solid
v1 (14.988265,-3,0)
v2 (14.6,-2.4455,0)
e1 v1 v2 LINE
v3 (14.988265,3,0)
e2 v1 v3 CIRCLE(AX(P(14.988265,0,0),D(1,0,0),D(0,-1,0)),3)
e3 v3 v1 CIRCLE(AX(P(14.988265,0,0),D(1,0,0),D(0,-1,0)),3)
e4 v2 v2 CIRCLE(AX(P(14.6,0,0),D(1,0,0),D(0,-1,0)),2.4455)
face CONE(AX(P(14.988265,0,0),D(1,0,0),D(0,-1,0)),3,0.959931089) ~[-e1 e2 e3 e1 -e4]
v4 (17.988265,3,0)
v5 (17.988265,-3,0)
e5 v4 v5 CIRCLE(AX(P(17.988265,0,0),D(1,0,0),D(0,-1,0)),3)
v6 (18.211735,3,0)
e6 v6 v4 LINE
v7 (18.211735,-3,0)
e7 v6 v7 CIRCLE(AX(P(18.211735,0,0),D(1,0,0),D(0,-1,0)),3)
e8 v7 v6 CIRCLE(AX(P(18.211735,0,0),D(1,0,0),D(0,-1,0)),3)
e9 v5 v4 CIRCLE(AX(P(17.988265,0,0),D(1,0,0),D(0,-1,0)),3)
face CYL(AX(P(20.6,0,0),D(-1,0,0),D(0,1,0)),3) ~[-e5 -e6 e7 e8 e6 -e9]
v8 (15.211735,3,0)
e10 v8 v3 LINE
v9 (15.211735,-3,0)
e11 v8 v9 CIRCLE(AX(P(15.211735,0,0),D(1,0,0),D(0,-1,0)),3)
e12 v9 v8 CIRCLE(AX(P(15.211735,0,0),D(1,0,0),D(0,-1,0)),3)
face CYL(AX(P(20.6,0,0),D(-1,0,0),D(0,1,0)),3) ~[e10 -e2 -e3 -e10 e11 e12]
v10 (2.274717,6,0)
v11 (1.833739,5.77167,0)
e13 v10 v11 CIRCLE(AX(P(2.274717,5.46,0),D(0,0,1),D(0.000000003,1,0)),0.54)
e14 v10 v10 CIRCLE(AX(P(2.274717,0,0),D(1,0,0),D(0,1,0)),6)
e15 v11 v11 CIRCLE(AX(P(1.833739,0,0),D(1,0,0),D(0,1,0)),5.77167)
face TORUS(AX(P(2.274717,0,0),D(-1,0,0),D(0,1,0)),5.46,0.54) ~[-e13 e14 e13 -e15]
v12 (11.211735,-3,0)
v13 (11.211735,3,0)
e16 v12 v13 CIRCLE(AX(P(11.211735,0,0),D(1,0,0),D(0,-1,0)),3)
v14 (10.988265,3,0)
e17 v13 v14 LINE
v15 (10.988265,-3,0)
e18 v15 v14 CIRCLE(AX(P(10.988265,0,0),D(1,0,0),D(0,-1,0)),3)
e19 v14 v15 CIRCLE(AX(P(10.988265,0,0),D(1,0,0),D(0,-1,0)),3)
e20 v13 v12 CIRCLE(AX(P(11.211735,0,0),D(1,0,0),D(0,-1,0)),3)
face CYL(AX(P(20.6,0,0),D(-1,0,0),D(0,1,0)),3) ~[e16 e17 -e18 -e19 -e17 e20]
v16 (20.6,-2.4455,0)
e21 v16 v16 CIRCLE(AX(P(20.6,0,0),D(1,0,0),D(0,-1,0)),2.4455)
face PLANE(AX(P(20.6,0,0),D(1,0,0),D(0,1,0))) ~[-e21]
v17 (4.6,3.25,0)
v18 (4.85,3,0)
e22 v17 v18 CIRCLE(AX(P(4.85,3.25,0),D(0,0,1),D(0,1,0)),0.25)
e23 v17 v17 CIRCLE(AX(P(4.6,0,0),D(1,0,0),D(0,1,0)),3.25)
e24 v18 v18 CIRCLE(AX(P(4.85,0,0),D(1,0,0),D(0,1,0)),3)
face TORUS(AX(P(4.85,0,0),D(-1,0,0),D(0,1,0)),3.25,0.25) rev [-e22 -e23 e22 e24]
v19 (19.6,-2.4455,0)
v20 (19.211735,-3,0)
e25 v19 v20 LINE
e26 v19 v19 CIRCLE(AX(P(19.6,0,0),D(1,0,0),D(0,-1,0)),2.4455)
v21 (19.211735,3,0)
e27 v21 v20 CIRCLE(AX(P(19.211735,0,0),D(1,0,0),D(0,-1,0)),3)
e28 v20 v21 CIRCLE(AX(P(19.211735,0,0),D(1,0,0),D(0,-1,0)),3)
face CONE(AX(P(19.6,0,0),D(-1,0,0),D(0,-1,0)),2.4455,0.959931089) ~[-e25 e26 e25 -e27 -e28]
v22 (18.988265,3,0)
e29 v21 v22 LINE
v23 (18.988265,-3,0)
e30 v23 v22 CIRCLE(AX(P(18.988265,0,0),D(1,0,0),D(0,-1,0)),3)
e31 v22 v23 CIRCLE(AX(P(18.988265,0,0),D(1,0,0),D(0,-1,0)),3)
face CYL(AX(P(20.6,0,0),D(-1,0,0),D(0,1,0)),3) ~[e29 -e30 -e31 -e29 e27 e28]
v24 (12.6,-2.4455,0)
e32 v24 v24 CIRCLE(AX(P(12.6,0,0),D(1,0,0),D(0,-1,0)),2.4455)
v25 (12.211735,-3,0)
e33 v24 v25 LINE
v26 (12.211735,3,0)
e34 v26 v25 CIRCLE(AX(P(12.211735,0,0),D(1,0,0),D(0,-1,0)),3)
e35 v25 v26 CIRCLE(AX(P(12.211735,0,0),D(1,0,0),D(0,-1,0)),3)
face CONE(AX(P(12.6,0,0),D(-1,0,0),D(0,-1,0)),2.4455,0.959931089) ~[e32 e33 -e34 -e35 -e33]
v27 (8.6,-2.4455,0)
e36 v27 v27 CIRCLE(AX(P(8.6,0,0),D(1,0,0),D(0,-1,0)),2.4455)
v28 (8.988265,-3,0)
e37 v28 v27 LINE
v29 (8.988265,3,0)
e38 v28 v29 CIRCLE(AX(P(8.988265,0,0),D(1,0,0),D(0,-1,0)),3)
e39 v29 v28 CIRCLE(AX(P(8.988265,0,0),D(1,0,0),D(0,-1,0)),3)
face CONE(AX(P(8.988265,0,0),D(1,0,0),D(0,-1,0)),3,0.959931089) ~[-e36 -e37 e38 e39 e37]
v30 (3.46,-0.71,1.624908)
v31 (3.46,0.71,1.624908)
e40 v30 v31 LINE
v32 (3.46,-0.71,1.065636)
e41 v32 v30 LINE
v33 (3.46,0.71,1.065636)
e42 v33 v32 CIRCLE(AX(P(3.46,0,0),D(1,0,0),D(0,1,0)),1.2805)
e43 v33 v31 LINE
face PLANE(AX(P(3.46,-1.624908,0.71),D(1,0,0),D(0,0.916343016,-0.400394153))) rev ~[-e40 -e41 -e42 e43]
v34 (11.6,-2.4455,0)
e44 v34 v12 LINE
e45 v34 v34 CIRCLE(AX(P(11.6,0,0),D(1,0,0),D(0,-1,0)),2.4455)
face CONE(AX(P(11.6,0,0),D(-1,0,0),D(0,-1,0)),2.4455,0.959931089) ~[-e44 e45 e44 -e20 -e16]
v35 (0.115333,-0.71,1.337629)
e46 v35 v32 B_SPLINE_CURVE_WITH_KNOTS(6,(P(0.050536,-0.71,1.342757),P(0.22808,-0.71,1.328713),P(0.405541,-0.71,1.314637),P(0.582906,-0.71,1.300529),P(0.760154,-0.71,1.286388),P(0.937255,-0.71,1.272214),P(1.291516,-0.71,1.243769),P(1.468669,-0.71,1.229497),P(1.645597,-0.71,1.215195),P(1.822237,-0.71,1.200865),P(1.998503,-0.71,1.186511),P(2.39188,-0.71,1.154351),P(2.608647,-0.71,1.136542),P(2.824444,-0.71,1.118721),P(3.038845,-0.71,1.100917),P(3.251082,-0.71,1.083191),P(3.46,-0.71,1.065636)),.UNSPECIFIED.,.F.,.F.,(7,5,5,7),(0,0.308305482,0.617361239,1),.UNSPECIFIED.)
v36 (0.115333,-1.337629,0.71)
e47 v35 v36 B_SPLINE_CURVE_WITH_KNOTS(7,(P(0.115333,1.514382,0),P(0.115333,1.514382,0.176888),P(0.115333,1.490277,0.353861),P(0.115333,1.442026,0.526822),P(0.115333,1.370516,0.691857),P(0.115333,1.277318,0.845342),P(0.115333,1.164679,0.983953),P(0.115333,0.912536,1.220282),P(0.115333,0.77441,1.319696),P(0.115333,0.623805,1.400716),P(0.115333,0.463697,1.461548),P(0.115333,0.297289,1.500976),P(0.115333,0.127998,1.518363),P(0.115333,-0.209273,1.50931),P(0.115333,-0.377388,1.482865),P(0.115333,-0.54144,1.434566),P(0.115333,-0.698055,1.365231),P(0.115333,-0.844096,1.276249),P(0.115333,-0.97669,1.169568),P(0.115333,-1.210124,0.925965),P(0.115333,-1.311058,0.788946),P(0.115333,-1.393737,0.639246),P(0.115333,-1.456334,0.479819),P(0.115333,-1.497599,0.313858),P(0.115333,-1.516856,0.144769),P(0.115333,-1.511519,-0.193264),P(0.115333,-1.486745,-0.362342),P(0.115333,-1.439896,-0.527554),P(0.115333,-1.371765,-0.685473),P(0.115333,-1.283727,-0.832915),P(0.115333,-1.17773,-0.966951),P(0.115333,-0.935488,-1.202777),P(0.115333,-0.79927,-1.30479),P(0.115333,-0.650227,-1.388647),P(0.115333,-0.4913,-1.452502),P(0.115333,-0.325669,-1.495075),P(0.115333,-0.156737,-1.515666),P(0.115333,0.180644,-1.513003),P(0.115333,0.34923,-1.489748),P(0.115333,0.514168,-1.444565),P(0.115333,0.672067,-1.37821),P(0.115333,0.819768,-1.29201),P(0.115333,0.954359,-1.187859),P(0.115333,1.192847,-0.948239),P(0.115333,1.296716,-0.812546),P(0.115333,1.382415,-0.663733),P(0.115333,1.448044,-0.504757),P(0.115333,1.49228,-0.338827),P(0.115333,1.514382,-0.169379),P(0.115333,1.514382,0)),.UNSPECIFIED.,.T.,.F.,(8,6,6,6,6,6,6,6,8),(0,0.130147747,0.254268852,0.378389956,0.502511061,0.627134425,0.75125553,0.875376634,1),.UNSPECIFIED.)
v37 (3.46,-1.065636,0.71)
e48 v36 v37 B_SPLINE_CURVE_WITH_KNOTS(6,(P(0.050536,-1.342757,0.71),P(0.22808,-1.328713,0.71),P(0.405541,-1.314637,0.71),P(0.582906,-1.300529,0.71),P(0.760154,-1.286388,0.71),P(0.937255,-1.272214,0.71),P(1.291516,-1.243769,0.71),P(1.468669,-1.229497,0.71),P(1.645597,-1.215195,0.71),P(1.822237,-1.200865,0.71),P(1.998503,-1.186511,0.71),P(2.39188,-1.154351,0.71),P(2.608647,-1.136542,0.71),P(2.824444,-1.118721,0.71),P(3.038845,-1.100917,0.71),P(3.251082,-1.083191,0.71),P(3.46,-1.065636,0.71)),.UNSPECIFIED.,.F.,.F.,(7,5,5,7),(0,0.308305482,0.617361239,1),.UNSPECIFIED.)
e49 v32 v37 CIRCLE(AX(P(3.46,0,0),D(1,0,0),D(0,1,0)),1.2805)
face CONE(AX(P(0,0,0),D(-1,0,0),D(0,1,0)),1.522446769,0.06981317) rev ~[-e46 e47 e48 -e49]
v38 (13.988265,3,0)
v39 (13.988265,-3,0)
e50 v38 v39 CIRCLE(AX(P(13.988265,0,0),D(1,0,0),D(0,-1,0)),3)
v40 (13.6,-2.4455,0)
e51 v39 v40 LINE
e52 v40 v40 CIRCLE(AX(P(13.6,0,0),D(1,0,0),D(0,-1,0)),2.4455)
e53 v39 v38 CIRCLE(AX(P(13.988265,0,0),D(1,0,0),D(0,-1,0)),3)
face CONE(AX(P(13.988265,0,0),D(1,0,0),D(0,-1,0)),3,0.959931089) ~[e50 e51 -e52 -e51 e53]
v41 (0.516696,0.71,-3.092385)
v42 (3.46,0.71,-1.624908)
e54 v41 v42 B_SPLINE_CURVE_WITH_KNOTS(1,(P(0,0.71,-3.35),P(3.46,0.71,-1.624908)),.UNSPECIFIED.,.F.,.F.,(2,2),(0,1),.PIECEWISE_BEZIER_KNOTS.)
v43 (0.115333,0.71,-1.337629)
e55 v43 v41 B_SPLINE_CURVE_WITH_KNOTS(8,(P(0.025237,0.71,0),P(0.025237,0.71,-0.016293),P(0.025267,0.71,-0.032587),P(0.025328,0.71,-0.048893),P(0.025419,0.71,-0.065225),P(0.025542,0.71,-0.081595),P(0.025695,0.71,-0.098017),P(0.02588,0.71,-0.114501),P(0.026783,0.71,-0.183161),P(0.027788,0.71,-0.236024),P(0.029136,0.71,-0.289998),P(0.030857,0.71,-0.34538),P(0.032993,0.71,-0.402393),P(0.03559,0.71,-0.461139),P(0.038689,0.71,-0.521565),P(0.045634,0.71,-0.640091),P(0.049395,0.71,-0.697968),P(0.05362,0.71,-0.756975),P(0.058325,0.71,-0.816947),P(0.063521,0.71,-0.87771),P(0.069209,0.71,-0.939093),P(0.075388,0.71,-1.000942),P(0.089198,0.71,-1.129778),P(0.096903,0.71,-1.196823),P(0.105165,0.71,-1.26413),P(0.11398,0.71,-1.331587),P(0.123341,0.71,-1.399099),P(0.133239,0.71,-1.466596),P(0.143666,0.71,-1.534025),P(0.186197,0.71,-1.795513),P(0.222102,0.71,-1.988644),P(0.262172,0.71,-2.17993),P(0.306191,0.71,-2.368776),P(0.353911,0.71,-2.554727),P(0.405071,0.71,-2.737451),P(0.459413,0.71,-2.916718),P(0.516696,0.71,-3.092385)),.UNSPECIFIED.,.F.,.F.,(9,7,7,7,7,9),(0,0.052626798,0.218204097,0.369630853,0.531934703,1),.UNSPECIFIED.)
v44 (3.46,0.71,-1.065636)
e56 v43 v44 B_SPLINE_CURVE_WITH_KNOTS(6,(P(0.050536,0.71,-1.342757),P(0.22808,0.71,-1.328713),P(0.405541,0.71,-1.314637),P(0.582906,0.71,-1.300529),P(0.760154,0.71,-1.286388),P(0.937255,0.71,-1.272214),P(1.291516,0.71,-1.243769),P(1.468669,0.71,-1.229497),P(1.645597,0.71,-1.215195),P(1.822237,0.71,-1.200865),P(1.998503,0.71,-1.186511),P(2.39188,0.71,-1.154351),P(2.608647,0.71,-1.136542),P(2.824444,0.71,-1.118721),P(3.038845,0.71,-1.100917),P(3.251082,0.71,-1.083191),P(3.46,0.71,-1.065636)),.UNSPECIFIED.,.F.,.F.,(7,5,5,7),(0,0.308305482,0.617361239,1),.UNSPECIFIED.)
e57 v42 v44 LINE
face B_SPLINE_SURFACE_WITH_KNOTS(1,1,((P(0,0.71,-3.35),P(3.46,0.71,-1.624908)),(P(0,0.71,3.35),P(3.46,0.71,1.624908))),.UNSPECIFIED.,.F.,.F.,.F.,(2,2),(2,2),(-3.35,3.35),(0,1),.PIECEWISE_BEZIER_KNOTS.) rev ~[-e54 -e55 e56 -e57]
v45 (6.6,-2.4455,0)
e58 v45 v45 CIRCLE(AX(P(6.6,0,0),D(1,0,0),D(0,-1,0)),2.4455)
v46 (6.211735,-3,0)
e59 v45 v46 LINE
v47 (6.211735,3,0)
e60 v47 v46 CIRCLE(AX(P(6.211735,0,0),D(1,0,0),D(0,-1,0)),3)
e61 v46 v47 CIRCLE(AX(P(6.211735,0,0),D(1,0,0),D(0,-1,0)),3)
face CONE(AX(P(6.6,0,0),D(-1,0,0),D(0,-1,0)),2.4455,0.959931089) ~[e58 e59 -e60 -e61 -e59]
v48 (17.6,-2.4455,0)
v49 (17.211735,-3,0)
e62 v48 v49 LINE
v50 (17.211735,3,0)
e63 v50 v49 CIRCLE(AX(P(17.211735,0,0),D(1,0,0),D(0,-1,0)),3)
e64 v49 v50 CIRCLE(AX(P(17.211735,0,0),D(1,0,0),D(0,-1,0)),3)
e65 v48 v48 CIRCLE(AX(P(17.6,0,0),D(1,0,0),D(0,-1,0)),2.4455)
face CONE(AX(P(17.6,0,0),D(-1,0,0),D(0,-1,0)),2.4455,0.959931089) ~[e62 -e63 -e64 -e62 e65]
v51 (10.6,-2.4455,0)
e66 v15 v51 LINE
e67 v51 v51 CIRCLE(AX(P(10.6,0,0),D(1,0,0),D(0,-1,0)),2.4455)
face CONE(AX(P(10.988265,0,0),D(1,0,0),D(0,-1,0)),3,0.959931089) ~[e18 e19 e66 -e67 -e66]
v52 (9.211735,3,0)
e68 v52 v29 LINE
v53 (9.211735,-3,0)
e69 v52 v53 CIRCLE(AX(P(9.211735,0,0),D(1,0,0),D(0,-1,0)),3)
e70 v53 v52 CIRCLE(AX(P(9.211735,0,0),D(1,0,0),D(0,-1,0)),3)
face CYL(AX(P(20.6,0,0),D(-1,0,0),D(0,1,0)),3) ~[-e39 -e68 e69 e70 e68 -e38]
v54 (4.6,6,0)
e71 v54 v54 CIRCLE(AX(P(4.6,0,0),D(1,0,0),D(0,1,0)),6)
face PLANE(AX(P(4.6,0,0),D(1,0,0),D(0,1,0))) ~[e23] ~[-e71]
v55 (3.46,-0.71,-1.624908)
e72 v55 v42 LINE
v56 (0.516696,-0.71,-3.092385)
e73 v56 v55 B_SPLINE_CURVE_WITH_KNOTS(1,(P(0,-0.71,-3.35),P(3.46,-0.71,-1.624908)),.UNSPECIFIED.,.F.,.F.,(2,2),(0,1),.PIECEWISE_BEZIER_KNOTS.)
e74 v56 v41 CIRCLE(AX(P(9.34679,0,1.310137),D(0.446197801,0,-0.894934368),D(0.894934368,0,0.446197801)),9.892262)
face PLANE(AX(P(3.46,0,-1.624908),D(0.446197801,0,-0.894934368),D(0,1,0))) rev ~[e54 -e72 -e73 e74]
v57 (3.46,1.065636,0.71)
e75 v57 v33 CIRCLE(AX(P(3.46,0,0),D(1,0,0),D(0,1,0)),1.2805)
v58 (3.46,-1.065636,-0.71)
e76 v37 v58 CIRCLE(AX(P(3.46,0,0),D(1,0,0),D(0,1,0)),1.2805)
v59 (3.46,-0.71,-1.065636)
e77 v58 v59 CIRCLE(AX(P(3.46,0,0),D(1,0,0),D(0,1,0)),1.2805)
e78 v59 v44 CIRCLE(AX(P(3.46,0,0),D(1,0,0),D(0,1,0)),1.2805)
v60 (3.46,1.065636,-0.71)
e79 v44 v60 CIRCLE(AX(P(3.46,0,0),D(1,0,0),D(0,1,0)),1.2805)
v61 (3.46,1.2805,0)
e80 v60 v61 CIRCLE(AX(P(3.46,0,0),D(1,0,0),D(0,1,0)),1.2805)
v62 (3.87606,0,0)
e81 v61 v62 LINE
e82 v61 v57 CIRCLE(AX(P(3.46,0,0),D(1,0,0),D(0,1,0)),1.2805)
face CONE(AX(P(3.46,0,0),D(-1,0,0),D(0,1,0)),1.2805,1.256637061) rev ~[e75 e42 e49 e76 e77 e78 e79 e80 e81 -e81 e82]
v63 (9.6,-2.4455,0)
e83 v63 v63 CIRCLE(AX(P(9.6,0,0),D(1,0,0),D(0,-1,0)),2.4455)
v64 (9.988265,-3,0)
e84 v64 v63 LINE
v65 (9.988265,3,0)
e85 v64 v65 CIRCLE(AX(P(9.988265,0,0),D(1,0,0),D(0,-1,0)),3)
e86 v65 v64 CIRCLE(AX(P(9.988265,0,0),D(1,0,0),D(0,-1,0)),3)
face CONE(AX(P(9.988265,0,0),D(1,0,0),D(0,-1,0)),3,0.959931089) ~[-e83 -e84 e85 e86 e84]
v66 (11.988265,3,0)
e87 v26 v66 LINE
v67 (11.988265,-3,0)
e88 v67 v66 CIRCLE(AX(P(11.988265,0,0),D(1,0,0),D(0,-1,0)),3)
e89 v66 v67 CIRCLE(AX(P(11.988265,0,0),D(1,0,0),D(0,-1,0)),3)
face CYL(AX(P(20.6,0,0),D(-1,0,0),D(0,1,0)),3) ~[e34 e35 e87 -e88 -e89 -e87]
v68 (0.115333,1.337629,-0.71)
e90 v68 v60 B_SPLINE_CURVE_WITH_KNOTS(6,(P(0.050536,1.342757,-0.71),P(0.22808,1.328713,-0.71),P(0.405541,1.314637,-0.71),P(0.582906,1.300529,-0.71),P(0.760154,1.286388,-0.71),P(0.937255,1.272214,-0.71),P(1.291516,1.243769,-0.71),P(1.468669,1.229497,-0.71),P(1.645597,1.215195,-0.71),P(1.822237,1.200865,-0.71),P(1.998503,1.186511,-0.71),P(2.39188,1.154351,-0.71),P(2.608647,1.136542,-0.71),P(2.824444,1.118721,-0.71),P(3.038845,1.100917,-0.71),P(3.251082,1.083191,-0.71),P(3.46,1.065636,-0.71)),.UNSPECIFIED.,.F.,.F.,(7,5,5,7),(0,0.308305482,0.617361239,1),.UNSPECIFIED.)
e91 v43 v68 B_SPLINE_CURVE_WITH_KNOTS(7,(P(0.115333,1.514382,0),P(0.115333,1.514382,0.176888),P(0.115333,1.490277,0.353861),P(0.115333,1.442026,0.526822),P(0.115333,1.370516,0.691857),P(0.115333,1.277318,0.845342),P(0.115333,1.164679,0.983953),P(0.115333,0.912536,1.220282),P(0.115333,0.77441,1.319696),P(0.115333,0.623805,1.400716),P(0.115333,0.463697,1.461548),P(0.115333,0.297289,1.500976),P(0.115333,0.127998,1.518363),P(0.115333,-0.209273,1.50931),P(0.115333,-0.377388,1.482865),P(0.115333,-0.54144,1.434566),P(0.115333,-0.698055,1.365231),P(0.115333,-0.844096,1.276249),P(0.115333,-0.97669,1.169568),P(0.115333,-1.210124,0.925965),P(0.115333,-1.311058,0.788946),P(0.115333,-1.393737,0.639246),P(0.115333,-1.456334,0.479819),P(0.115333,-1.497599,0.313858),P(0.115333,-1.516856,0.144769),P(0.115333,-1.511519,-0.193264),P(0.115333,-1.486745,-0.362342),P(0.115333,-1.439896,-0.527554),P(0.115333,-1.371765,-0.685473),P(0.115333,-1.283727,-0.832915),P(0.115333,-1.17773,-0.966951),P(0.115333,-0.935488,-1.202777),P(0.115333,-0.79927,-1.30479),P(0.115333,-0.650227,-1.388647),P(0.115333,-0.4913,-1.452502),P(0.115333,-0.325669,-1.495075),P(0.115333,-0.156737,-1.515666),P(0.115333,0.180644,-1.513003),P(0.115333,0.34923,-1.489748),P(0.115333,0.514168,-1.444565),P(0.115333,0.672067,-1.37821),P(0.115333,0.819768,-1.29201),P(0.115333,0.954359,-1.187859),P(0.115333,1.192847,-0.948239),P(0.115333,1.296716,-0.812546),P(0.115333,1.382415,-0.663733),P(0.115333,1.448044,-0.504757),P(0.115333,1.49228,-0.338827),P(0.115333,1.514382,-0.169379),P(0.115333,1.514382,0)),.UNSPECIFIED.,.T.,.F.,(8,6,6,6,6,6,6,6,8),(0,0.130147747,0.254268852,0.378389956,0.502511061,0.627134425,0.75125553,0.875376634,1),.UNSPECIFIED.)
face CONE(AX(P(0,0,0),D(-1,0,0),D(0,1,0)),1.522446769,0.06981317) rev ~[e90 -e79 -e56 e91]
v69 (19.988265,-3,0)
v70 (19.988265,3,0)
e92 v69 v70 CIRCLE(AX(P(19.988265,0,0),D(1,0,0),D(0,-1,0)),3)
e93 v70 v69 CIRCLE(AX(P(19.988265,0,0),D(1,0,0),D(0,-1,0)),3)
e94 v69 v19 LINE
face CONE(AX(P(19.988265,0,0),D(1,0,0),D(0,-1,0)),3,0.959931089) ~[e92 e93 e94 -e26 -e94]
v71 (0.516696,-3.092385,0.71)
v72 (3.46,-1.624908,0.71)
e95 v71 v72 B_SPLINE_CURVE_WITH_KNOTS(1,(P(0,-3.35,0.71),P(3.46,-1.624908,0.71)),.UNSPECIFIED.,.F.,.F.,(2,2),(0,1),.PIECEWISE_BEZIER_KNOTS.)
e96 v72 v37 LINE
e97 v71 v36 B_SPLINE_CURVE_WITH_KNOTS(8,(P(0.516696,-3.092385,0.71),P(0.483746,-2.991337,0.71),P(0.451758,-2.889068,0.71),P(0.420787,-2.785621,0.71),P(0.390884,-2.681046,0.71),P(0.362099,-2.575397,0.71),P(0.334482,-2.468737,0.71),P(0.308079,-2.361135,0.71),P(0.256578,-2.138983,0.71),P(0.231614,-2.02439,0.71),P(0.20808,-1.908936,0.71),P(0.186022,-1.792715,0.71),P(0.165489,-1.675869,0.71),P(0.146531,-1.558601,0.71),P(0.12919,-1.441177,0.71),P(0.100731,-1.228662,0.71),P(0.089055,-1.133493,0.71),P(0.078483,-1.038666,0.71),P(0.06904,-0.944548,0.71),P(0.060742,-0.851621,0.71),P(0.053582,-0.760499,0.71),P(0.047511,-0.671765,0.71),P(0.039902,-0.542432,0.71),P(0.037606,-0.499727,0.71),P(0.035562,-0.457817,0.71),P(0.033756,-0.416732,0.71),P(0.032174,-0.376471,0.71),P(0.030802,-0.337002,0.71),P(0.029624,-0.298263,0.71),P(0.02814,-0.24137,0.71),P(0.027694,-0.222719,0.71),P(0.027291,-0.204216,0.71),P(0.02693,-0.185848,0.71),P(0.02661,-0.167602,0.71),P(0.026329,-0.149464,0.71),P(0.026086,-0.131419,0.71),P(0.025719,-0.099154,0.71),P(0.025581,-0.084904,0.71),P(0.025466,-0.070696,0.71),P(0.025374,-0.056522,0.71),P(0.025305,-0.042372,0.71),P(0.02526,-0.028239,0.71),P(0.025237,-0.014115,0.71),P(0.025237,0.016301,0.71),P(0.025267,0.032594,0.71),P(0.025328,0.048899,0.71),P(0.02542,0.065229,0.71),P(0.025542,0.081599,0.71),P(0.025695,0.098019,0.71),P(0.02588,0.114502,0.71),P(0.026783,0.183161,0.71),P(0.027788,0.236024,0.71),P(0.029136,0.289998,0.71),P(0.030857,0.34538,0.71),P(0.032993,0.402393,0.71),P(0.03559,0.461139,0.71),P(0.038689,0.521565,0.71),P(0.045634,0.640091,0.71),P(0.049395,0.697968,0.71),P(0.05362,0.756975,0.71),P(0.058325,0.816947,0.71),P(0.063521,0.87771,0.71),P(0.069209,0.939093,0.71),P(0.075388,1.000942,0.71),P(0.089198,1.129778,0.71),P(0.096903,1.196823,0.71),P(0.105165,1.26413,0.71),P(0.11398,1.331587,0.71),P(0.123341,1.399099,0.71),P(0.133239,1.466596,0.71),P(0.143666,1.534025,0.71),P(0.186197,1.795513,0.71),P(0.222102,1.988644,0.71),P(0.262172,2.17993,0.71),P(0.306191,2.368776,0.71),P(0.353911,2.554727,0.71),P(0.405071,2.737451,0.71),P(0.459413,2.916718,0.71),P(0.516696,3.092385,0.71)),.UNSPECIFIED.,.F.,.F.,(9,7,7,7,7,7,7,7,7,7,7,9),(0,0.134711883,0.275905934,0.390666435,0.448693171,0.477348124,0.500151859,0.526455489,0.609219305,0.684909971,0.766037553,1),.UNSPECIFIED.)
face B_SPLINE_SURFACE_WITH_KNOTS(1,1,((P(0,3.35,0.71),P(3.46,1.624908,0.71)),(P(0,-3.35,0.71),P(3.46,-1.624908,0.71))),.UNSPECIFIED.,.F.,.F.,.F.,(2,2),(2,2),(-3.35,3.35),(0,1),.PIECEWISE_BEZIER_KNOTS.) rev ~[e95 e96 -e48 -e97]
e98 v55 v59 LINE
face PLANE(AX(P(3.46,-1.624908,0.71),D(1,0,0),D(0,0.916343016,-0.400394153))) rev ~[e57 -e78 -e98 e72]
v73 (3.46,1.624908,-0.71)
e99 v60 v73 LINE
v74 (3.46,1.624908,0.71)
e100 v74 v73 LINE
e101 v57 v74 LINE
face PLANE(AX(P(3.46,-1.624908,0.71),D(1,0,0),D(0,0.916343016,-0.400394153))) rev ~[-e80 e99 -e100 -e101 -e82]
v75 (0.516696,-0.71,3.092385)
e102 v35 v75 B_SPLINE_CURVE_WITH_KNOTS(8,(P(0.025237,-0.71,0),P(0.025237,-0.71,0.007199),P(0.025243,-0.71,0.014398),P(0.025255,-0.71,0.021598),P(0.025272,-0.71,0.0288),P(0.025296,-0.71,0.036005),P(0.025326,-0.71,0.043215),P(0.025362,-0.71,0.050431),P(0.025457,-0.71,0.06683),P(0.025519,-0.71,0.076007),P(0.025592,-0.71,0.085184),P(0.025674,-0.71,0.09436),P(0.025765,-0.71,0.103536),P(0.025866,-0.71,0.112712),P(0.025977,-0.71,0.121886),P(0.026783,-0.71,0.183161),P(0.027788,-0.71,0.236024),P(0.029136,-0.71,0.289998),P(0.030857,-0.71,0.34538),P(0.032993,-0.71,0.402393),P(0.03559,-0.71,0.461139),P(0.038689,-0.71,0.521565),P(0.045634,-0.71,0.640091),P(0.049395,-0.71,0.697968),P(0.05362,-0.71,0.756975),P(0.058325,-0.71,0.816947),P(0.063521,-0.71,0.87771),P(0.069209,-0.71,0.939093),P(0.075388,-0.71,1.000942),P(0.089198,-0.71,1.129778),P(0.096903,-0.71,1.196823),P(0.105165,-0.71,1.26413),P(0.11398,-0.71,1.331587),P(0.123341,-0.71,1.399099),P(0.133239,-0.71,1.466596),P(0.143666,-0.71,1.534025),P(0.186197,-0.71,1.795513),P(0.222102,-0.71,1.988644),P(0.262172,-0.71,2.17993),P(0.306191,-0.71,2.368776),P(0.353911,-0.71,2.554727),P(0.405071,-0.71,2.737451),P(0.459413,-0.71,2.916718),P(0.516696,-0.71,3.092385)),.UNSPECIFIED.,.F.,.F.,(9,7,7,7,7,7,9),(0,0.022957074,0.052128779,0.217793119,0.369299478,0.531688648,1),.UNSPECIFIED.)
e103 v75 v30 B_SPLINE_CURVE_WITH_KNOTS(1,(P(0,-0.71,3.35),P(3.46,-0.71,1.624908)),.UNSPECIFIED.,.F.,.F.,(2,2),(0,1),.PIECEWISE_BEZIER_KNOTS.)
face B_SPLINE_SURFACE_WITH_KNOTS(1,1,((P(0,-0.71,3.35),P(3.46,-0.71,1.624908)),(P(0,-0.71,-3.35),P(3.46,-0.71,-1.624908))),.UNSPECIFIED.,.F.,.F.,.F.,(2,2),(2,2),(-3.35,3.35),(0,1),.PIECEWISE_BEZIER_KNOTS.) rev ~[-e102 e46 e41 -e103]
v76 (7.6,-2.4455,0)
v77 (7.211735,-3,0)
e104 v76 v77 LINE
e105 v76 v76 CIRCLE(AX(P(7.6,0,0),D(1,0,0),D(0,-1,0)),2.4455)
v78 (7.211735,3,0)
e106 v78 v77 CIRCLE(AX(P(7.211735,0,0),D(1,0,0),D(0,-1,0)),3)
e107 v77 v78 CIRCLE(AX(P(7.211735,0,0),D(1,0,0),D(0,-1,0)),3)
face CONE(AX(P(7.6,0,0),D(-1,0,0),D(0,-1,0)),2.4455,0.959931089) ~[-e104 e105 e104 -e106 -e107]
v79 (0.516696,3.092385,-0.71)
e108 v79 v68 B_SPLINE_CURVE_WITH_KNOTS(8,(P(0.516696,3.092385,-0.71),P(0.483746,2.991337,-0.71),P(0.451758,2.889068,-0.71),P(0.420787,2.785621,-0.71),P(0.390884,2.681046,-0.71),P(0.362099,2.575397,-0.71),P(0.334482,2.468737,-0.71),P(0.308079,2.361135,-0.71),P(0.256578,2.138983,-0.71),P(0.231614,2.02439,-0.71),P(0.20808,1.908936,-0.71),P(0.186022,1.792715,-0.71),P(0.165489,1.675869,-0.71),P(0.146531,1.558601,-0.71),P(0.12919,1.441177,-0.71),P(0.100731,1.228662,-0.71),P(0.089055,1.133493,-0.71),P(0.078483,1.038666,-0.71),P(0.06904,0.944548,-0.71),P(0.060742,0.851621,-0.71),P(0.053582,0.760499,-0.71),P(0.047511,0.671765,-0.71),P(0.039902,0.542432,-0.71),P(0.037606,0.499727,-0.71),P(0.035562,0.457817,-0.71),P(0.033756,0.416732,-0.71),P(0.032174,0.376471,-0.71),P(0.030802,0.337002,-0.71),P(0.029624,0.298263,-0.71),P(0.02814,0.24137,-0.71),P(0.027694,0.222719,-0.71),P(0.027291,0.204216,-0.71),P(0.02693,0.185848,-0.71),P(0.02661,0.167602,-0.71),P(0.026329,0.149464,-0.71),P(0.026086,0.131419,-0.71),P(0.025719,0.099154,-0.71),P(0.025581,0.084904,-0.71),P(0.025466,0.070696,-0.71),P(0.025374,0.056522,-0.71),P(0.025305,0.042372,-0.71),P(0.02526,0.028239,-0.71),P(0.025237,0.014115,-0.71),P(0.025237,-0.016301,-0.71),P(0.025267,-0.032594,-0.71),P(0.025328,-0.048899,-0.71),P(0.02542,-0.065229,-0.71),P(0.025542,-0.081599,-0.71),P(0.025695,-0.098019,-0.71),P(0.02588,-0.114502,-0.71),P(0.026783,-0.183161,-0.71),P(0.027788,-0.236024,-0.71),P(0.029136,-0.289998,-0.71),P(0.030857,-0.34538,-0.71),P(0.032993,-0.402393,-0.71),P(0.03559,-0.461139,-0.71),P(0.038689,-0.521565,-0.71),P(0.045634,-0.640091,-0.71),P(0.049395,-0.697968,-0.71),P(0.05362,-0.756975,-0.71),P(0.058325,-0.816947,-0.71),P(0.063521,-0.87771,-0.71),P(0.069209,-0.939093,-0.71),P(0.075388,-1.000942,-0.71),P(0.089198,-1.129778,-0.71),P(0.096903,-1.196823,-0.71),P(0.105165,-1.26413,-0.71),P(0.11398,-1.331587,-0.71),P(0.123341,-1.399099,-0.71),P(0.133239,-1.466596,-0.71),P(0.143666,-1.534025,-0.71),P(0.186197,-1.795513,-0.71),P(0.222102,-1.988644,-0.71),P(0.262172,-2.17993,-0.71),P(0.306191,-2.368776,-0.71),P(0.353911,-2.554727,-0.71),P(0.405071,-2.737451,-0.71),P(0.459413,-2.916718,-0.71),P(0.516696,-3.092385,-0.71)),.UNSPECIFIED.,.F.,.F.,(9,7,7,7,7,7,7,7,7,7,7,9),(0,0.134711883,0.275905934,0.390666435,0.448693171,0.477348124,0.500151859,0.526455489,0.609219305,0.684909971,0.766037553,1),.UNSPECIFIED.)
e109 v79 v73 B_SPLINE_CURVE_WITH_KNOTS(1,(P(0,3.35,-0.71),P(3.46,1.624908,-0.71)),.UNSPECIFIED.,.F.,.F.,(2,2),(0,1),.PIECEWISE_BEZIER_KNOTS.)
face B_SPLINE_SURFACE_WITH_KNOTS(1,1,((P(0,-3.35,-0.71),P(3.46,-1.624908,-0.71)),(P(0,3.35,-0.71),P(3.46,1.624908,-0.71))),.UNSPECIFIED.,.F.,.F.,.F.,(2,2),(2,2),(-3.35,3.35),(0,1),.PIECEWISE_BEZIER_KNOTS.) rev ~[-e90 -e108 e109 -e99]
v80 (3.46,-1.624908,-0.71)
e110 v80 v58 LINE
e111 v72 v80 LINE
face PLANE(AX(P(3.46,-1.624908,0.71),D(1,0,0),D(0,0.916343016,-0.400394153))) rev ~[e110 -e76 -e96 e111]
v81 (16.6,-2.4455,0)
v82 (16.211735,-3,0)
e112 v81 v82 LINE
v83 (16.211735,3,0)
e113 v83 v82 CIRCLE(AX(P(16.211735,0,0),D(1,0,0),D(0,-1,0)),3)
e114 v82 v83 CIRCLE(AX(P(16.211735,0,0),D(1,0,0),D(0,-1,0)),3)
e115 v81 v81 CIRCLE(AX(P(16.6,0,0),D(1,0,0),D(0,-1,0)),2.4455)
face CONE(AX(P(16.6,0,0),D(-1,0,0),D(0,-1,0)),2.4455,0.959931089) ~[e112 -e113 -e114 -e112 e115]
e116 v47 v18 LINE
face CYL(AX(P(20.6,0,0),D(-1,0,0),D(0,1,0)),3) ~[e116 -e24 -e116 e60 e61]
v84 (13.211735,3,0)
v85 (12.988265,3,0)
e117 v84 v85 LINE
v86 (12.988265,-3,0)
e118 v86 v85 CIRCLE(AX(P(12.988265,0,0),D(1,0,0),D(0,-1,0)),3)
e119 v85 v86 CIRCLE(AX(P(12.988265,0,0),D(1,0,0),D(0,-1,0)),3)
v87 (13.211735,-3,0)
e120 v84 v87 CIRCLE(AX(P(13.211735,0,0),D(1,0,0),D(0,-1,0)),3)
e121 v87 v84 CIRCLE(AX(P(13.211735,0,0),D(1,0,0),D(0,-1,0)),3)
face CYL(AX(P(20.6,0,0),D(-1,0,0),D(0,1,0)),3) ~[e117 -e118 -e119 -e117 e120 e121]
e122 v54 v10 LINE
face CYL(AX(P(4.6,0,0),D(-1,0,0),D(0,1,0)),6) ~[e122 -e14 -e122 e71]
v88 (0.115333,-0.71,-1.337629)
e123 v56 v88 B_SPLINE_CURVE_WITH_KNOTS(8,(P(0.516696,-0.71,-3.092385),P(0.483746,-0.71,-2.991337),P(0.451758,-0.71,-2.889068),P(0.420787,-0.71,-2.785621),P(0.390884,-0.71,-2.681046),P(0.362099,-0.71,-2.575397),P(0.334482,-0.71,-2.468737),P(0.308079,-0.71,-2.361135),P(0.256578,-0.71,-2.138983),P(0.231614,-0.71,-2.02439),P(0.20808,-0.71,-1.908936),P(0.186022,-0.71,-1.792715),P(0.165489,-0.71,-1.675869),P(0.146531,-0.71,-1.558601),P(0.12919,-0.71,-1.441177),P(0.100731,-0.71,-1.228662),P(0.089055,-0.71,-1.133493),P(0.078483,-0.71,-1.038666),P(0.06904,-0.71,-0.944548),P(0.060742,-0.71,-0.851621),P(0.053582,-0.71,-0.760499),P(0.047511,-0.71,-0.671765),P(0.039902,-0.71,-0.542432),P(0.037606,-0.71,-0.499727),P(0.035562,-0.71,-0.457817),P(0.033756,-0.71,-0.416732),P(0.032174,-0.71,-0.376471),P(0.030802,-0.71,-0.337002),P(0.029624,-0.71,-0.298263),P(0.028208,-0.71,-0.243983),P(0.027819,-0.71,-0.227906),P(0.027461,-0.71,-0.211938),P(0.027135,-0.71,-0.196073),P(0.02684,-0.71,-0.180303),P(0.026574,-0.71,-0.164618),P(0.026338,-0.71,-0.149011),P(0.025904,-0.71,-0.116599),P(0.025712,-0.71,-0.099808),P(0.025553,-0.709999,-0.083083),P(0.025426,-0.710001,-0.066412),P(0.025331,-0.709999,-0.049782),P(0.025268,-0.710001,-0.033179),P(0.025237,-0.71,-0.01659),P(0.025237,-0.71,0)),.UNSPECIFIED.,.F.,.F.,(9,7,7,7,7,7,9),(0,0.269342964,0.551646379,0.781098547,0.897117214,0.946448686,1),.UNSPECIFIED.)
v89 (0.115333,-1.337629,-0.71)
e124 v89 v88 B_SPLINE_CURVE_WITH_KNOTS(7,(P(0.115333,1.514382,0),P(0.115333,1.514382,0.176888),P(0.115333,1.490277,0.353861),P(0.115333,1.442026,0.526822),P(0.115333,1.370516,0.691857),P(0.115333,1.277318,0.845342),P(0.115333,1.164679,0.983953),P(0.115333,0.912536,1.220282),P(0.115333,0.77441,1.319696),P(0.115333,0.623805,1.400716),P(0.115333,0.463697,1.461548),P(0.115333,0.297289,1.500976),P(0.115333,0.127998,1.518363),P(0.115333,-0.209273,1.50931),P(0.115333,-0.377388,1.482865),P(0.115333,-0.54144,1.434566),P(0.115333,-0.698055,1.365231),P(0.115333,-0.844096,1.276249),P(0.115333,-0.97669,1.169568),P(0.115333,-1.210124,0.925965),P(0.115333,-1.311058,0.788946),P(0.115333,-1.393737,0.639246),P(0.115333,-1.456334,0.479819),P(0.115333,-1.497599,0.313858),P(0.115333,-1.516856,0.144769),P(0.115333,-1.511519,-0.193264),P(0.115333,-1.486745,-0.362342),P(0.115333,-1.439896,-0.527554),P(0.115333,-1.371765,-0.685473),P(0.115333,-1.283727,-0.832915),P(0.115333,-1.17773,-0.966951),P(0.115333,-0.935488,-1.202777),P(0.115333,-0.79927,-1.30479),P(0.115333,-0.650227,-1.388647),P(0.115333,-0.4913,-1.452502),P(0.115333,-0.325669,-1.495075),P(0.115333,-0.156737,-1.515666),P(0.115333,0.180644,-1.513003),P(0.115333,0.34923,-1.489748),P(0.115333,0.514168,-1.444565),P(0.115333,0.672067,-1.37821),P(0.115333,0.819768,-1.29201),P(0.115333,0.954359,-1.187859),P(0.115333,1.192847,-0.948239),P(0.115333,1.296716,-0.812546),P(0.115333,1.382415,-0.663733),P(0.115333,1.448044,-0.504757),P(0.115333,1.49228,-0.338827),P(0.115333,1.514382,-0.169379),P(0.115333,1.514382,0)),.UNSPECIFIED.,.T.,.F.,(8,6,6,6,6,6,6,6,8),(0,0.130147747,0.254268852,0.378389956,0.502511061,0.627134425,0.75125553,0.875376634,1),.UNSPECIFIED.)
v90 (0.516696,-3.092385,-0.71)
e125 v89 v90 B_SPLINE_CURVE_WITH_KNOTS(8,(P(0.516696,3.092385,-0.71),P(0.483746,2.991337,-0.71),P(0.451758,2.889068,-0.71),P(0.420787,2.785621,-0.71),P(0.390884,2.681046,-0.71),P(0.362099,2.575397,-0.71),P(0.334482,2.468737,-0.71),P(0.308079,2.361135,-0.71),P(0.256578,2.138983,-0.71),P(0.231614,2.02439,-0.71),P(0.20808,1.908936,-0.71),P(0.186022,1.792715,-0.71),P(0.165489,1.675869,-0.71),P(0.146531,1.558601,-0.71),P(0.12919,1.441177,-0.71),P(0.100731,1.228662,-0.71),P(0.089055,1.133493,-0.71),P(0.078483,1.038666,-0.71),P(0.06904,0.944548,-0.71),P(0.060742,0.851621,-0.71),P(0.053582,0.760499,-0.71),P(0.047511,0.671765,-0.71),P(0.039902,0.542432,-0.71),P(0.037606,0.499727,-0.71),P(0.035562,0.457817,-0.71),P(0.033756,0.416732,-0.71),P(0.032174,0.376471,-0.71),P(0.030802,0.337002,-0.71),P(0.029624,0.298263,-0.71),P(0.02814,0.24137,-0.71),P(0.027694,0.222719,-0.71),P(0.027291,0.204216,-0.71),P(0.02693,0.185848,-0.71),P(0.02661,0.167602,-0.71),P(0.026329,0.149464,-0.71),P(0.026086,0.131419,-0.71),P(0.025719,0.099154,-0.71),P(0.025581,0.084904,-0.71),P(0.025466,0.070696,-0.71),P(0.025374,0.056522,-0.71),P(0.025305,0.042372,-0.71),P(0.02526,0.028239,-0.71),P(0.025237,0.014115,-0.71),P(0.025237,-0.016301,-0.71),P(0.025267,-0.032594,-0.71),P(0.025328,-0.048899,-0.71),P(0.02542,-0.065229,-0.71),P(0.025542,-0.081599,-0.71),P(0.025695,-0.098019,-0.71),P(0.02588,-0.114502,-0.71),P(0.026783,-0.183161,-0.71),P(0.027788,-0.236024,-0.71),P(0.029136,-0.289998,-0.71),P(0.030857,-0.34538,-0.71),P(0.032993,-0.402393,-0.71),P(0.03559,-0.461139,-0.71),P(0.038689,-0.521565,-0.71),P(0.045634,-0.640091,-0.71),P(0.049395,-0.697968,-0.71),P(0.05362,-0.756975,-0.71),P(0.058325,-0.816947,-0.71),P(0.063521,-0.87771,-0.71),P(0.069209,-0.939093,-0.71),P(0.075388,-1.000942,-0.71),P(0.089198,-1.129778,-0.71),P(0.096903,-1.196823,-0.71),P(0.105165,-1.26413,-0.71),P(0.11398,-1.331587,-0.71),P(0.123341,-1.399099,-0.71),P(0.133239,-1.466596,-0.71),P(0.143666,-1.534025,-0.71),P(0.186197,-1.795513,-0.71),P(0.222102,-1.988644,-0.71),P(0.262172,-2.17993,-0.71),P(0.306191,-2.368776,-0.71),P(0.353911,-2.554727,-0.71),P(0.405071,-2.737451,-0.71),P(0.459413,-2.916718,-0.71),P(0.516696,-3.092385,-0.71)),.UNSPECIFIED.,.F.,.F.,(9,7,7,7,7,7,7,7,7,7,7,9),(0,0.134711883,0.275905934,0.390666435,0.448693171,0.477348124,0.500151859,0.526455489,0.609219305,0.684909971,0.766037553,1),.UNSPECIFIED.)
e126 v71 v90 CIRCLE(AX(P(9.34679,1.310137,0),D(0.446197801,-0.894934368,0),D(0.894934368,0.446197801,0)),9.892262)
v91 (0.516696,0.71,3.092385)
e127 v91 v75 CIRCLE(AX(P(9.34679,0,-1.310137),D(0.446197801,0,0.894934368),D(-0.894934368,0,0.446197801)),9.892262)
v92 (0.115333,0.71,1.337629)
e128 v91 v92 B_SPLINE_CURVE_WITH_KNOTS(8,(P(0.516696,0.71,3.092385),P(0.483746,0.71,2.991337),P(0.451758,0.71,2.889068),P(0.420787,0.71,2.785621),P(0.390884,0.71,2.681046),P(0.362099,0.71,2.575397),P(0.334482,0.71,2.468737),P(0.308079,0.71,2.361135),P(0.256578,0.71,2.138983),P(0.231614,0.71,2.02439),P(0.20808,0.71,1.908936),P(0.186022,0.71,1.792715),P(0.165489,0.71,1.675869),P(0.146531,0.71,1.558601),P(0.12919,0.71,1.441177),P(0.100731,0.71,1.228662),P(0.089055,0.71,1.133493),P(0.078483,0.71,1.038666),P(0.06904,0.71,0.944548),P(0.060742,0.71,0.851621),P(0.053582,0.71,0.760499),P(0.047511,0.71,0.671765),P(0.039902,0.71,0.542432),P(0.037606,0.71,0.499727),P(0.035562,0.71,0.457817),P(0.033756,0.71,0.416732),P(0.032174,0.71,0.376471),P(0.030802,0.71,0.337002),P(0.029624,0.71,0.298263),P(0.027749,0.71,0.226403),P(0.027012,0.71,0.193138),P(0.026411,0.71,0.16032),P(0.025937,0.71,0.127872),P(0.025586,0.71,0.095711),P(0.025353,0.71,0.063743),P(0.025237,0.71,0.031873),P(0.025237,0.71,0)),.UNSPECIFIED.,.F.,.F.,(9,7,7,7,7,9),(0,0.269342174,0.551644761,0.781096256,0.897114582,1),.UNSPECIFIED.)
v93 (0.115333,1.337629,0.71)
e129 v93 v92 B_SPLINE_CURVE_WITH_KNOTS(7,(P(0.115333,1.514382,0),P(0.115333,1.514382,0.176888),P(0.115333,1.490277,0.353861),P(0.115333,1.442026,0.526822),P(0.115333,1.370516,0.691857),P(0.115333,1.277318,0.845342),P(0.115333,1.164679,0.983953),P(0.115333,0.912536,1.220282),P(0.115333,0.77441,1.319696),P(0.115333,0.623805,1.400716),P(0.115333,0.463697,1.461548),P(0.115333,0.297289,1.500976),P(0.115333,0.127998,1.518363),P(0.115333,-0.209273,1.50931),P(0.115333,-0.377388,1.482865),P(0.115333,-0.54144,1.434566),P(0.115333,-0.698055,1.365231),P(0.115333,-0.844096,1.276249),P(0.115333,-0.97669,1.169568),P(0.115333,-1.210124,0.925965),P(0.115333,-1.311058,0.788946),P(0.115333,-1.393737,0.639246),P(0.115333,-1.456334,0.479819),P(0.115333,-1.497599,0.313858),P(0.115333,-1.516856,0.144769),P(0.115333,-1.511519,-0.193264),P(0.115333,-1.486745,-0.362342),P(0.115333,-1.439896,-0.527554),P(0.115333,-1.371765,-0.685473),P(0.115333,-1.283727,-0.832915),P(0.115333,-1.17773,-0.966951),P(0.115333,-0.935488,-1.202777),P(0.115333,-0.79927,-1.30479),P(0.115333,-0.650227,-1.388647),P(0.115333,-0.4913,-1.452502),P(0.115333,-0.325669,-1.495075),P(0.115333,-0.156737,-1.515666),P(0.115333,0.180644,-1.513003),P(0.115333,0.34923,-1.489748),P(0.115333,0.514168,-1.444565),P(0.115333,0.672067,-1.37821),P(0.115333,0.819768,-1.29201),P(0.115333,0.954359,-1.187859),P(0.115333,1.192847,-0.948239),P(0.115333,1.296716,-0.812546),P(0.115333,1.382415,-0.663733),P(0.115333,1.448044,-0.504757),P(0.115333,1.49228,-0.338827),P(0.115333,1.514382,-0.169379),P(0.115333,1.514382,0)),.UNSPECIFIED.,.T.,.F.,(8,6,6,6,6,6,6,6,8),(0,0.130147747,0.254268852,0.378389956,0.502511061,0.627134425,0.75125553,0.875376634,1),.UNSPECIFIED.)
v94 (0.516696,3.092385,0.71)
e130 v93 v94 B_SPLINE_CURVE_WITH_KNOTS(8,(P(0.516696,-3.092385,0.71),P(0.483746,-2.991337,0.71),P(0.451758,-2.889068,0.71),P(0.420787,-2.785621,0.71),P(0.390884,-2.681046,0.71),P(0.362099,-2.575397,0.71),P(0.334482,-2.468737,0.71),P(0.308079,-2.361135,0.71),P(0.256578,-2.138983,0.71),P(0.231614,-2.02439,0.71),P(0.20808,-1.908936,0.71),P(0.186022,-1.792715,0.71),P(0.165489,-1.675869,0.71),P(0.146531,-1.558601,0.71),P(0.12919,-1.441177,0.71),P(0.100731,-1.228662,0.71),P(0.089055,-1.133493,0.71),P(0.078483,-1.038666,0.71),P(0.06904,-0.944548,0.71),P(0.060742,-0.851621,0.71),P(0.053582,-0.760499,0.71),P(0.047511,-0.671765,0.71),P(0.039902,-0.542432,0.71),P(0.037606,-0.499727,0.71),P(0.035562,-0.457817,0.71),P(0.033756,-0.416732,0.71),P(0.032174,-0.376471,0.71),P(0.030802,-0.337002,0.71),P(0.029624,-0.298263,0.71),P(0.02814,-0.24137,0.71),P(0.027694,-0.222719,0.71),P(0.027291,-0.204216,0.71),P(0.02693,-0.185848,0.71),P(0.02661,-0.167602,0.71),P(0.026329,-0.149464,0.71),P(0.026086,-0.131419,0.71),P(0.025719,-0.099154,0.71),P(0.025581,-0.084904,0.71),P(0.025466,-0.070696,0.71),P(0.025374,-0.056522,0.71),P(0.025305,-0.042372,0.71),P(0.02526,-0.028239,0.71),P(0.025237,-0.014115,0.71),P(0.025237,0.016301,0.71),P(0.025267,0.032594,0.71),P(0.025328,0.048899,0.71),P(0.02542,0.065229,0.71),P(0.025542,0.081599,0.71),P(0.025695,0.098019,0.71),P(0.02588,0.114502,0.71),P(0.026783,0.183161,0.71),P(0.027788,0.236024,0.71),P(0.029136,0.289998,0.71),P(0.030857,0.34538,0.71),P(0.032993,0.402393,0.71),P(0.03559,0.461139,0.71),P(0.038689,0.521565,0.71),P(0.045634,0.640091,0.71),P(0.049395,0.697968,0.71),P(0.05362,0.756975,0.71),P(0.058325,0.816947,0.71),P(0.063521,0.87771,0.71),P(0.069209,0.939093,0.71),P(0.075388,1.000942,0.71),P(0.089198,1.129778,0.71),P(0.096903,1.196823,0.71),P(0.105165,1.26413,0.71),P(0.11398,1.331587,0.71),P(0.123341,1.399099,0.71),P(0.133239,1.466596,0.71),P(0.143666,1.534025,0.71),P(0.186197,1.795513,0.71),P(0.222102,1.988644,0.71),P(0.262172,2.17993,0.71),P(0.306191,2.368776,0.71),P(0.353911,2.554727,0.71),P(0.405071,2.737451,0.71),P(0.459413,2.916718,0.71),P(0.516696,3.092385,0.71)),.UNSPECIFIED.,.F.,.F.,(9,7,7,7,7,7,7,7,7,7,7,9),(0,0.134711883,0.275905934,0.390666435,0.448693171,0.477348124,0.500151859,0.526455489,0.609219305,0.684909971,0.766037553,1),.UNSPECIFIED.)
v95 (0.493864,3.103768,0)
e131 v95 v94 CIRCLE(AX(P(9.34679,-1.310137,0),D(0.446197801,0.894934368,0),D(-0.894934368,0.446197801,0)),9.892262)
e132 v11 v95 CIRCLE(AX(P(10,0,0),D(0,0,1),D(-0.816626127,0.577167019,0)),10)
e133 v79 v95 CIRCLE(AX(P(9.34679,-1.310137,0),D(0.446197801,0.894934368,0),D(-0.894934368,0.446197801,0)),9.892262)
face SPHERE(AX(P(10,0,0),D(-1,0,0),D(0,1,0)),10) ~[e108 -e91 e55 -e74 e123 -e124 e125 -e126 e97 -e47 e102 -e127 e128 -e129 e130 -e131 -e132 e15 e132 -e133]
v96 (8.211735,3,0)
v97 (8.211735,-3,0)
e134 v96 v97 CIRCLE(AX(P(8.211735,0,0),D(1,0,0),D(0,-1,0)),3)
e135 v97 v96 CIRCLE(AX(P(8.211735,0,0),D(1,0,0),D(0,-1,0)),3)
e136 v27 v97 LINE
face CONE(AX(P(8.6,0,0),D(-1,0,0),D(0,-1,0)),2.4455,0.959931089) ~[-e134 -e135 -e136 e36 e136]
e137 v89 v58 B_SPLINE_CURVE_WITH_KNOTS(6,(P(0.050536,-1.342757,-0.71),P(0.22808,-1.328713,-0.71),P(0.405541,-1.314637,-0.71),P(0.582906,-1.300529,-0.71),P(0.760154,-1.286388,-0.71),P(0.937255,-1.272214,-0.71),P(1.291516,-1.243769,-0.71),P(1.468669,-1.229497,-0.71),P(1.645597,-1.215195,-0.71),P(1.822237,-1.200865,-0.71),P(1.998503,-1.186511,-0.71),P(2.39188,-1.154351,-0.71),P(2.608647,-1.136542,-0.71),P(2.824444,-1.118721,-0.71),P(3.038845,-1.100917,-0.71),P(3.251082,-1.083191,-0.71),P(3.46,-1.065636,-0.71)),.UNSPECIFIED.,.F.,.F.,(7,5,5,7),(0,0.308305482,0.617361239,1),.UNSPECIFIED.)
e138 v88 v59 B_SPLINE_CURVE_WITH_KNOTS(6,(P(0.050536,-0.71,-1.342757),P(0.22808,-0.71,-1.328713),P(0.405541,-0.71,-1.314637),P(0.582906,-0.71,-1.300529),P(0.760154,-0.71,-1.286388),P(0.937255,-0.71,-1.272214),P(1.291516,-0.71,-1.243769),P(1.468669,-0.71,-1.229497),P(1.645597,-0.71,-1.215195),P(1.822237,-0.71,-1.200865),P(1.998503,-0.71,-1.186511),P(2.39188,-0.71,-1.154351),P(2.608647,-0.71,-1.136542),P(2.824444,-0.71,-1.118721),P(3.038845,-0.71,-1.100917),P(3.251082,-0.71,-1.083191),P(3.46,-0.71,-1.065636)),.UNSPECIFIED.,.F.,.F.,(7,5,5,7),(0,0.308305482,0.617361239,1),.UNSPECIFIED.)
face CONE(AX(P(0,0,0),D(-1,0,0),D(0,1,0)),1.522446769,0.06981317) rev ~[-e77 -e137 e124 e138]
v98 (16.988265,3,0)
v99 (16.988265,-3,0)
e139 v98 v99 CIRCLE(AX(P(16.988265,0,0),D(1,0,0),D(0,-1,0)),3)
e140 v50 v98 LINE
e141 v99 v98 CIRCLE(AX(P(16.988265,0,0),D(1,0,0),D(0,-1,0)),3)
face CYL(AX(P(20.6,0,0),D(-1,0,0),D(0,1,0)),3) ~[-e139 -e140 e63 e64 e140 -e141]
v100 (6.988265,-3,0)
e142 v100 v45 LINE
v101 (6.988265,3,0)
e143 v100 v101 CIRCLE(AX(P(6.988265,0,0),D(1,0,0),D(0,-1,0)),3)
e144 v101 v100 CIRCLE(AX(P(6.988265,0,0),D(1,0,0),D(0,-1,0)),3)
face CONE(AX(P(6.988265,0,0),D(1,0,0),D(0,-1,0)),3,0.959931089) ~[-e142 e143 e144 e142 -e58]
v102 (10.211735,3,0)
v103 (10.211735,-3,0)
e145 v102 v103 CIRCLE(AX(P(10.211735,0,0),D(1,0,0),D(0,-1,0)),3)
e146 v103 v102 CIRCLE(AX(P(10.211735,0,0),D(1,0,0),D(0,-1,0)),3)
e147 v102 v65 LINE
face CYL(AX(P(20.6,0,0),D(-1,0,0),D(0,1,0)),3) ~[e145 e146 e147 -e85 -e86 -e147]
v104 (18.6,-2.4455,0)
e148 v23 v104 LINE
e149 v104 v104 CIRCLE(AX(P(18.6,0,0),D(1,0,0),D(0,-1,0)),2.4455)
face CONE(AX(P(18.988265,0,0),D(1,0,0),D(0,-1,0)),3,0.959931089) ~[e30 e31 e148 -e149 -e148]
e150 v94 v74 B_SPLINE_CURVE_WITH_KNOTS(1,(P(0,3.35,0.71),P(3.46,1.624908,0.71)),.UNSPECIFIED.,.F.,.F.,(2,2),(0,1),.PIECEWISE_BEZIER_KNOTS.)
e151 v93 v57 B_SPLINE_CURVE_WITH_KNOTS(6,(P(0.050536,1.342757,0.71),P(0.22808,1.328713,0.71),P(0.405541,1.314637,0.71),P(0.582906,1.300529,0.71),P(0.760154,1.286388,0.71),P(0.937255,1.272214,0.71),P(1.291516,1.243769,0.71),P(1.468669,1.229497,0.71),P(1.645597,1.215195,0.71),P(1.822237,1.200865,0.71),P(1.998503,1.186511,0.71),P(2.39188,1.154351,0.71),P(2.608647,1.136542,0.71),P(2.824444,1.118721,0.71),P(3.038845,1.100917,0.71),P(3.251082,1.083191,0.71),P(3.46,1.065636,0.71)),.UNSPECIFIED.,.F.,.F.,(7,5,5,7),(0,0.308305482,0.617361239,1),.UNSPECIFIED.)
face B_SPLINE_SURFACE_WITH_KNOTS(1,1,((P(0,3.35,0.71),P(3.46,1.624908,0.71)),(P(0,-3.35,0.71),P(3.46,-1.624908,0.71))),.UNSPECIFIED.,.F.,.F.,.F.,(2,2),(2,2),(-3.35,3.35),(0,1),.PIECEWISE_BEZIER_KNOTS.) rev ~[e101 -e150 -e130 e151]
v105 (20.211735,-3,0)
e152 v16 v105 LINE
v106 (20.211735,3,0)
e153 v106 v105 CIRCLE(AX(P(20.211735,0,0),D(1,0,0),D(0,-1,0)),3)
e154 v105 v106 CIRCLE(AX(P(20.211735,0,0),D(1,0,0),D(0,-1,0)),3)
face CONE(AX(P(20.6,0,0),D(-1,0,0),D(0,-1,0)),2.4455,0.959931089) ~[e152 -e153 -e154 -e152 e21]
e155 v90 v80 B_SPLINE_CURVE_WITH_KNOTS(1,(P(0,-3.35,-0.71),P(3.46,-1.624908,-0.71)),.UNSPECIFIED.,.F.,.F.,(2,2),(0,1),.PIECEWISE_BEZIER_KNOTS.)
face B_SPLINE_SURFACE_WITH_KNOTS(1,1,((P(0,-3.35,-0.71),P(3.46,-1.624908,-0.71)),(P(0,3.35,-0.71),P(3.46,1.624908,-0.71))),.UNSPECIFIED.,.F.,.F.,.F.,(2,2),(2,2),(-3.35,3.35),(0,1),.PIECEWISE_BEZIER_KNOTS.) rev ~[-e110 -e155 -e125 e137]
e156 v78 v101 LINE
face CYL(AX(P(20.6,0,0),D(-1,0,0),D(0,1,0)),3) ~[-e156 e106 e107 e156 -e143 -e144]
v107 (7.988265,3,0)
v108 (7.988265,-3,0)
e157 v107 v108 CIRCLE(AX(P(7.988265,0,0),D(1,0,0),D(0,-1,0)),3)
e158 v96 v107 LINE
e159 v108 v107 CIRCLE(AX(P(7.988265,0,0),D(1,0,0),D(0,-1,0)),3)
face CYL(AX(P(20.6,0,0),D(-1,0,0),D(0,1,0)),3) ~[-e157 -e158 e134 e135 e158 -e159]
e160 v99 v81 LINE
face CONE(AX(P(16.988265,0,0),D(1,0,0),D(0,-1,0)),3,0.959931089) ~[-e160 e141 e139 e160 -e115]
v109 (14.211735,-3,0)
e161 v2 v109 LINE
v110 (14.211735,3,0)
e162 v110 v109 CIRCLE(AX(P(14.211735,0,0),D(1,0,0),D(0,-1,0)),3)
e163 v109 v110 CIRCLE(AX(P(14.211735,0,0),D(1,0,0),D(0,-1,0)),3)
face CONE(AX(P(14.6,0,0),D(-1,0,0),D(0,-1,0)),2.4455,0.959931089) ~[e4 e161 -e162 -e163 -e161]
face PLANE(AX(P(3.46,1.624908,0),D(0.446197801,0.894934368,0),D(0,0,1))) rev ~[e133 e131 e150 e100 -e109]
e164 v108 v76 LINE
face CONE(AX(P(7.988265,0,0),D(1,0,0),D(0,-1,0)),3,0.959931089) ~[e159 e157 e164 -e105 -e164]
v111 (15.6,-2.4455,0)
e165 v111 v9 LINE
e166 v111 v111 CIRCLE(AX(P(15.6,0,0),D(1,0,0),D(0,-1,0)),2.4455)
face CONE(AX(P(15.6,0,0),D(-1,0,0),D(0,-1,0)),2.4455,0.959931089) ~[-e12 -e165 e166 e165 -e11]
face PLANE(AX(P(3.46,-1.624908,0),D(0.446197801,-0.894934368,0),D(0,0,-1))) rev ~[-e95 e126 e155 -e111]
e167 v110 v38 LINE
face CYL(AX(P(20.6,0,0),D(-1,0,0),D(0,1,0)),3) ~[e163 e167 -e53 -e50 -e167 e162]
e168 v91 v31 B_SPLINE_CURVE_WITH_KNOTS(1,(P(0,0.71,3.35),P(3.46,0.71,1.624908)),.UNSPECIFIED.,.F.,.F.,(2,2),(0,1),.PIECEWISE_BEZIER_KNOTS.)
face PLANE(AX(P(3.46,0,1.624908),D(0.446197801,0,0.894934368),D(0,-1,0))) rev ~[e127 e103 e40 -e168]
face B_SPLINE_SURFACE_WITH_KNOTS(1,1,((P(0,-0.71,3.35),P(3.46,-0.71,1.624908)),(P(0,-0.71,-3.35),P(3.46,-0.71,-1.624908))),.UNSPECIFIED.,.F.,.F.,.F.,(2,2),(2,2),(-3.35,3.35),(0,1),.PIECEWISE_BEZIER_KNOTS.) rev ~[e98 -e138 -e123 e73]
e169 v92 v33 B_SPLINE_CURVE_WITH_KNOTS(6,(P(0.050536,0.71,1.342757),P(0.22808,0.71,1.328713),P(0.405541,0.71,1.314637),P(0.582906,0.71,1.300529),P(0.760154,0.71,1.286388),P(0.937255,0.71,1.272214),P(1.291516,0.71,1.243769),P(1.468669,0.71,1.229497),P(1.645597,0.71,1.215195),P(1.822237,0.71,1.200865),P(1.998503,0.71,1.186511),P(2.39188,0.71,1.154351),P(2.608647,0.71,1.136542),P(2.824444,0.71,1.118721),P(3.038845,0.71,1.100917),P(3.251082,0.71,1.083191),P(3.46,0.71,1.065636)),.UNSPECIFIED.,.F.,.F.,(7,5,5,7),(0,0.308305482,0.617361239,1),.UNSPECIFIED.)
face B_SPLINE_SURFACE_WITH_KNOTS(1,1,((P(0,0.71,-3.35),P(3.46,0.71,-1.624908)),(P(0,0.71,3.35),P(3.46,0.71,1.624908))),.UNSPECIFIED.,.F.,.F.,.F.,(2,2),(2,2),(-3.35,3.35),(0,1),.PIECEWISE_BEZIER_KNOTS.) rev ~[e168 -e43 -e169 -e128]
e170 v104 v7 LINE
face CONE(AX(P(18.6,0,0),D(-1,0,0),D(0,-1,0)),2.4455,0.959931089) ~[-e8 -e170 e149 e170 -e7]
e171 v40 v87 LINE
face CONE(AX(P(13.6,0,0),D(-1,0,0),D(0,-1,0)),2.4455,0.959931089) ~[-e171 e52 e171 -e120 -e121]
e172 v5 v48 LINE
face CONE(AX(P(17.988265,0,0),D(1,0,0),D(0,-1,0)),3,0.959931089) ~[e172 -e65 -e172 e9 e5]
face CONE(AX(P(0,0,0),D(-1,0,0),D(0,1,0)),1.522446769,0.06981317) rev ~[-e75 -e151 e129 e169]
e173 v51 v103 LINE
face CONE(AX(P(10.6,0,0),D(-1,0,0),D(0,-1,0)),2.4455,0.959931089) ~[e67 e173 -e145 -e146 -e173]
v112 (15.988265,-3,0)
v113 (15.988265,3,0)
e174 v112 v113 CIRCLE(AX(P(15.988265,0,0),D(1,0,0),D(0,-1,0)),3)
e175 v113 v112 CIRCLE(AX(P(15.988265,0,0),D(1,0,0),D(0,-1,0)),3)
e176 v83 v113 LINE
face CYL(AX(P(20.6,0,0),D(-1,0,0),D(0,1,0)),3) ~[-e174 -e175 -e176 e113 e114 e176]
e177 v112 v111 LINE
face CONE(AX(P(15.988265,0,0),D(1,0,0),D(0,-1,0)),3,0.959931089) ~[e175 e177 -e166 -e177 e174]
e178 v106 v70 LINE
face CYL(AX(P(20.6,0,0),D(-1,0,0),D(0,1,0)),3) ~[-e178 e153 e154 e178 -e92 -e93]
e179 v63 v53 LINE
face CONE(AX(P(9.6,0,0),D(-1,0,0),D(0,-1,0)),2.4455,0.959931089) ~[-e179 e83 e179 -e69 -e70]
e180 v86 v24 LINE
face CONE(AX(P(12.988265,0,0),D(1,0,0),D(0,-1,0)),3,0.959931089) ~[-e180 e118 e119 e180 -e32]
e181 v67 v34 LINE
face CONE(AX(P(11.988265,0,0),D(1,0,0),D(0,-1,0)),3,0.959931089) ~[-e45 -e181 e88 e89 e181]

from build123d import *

# Parameters (mm, degrees)
FILLET1_R       = 0.25
SKETCH3_W       = 1.42
SKETCH3_H       = 6.7
SKETCH4_W       = 1.42
SKETCH4_H       = 3.249815392
RECPAT_COUNT    = 2
RECPAT_ANGLE    = 90
THDSCHPAT_COUNT = 15
THDSCHPAT_PITCH = 1


with BuildPart() as part:
    # BodySke → Base-Revolve (revolve)
    with BuildSketch(Plane.XY):
        with BuildLine():
            Line((4.6, 3), (4.6, 6))
            Line((4.6, 6), (2.274716834, 6))
            ThreePointArc((2.274716834, 6), (2.026424569, 5.939532013), (1.833738725, 5.77167019))
            ThreePointArc((1.833738725, 5.77167019), (0.469454036, 3.027985077), (0, 0))
            Line((0, 0), (20.6, 0))
            Line((20.6, 0), (20.6, 3))
            Line((20.6, 3), (4.6, 3))
        make_face()
    revolve(axis=Axis((-25.4, 0, 0), (1, 0, 0)))

    # Fillet1
    fillet1_edges = [part.edges().sort_by_distance(p)[0] for p in [
        (4.6, -3, 0),
    ]]
    fillet(fillet1_edges, radius=FILLET1_R)

    # Sketch3 → Recess section 0
    with BuildSketch(Plane(origin=(0, 0, 0), x_dir=(0, 0, -1), z_dir=(1, 0, 0))):
        Rectangle(SKETCH3_W, SKETCH3_H)
    # Sketch4 → Recess section 1
    with BuildSketch(Plane(origin=(3.46, 0, 0), x_dir=(0, 0, -1), z_dir=(1, 0, 0))):
        Rectangle(SKETCH4_W, SKETCH4_H)
    recess = loft(mode=Mode.SUBTRACT)

    # RecPat: Recess ×2 about axis
    recpat_axis = Axis((0, 0, 0), (1, 0, 0))
    for i in range(1, RECPAT_COUNT):
        add(recess.rotate(recpat_axis, i * RECPAT_ANGLE / (RECPAT_COUNT - 1)), mode=Mode.SUBTRACT)

    # RecCorSke → RecessCore (revolve, cut)
    with BuildSketch(Plane.XY):
        Polygon((0, 0), (0, 1.522446769), (3.46, 1.2805), (3.876059671, 0), align=None)
    revolve(axis=Axis((-3.175, 0, 0), (1, 0, 0)), mode=Mode.SUBTRACT)

    # ThdSchSke → ThreadSchematic (revolve, cut)
    with BuildSketch(Plane.XY):
        Polygon((6.6, -2.4455), (6.21173492, -3), (6.21173492, -3.75), (6.98826508, -3.75), (6.98826508, -3), align=None)
    threadschematic = revolve(axis=Axis((-3.175, 0, 0), (1, 0, 0)), mode=Mode.SUBTRACT)

    # ThdSchPat: ThreadSchematic ×15
    with Locations(*[(i * THDSCHPAT_PITCH, 0, 0) for i in range(1, THDSCHPAT_COUNT)]):
        add(threadschematic, mode=Mode.SUBTRACT)


solid = part.part
